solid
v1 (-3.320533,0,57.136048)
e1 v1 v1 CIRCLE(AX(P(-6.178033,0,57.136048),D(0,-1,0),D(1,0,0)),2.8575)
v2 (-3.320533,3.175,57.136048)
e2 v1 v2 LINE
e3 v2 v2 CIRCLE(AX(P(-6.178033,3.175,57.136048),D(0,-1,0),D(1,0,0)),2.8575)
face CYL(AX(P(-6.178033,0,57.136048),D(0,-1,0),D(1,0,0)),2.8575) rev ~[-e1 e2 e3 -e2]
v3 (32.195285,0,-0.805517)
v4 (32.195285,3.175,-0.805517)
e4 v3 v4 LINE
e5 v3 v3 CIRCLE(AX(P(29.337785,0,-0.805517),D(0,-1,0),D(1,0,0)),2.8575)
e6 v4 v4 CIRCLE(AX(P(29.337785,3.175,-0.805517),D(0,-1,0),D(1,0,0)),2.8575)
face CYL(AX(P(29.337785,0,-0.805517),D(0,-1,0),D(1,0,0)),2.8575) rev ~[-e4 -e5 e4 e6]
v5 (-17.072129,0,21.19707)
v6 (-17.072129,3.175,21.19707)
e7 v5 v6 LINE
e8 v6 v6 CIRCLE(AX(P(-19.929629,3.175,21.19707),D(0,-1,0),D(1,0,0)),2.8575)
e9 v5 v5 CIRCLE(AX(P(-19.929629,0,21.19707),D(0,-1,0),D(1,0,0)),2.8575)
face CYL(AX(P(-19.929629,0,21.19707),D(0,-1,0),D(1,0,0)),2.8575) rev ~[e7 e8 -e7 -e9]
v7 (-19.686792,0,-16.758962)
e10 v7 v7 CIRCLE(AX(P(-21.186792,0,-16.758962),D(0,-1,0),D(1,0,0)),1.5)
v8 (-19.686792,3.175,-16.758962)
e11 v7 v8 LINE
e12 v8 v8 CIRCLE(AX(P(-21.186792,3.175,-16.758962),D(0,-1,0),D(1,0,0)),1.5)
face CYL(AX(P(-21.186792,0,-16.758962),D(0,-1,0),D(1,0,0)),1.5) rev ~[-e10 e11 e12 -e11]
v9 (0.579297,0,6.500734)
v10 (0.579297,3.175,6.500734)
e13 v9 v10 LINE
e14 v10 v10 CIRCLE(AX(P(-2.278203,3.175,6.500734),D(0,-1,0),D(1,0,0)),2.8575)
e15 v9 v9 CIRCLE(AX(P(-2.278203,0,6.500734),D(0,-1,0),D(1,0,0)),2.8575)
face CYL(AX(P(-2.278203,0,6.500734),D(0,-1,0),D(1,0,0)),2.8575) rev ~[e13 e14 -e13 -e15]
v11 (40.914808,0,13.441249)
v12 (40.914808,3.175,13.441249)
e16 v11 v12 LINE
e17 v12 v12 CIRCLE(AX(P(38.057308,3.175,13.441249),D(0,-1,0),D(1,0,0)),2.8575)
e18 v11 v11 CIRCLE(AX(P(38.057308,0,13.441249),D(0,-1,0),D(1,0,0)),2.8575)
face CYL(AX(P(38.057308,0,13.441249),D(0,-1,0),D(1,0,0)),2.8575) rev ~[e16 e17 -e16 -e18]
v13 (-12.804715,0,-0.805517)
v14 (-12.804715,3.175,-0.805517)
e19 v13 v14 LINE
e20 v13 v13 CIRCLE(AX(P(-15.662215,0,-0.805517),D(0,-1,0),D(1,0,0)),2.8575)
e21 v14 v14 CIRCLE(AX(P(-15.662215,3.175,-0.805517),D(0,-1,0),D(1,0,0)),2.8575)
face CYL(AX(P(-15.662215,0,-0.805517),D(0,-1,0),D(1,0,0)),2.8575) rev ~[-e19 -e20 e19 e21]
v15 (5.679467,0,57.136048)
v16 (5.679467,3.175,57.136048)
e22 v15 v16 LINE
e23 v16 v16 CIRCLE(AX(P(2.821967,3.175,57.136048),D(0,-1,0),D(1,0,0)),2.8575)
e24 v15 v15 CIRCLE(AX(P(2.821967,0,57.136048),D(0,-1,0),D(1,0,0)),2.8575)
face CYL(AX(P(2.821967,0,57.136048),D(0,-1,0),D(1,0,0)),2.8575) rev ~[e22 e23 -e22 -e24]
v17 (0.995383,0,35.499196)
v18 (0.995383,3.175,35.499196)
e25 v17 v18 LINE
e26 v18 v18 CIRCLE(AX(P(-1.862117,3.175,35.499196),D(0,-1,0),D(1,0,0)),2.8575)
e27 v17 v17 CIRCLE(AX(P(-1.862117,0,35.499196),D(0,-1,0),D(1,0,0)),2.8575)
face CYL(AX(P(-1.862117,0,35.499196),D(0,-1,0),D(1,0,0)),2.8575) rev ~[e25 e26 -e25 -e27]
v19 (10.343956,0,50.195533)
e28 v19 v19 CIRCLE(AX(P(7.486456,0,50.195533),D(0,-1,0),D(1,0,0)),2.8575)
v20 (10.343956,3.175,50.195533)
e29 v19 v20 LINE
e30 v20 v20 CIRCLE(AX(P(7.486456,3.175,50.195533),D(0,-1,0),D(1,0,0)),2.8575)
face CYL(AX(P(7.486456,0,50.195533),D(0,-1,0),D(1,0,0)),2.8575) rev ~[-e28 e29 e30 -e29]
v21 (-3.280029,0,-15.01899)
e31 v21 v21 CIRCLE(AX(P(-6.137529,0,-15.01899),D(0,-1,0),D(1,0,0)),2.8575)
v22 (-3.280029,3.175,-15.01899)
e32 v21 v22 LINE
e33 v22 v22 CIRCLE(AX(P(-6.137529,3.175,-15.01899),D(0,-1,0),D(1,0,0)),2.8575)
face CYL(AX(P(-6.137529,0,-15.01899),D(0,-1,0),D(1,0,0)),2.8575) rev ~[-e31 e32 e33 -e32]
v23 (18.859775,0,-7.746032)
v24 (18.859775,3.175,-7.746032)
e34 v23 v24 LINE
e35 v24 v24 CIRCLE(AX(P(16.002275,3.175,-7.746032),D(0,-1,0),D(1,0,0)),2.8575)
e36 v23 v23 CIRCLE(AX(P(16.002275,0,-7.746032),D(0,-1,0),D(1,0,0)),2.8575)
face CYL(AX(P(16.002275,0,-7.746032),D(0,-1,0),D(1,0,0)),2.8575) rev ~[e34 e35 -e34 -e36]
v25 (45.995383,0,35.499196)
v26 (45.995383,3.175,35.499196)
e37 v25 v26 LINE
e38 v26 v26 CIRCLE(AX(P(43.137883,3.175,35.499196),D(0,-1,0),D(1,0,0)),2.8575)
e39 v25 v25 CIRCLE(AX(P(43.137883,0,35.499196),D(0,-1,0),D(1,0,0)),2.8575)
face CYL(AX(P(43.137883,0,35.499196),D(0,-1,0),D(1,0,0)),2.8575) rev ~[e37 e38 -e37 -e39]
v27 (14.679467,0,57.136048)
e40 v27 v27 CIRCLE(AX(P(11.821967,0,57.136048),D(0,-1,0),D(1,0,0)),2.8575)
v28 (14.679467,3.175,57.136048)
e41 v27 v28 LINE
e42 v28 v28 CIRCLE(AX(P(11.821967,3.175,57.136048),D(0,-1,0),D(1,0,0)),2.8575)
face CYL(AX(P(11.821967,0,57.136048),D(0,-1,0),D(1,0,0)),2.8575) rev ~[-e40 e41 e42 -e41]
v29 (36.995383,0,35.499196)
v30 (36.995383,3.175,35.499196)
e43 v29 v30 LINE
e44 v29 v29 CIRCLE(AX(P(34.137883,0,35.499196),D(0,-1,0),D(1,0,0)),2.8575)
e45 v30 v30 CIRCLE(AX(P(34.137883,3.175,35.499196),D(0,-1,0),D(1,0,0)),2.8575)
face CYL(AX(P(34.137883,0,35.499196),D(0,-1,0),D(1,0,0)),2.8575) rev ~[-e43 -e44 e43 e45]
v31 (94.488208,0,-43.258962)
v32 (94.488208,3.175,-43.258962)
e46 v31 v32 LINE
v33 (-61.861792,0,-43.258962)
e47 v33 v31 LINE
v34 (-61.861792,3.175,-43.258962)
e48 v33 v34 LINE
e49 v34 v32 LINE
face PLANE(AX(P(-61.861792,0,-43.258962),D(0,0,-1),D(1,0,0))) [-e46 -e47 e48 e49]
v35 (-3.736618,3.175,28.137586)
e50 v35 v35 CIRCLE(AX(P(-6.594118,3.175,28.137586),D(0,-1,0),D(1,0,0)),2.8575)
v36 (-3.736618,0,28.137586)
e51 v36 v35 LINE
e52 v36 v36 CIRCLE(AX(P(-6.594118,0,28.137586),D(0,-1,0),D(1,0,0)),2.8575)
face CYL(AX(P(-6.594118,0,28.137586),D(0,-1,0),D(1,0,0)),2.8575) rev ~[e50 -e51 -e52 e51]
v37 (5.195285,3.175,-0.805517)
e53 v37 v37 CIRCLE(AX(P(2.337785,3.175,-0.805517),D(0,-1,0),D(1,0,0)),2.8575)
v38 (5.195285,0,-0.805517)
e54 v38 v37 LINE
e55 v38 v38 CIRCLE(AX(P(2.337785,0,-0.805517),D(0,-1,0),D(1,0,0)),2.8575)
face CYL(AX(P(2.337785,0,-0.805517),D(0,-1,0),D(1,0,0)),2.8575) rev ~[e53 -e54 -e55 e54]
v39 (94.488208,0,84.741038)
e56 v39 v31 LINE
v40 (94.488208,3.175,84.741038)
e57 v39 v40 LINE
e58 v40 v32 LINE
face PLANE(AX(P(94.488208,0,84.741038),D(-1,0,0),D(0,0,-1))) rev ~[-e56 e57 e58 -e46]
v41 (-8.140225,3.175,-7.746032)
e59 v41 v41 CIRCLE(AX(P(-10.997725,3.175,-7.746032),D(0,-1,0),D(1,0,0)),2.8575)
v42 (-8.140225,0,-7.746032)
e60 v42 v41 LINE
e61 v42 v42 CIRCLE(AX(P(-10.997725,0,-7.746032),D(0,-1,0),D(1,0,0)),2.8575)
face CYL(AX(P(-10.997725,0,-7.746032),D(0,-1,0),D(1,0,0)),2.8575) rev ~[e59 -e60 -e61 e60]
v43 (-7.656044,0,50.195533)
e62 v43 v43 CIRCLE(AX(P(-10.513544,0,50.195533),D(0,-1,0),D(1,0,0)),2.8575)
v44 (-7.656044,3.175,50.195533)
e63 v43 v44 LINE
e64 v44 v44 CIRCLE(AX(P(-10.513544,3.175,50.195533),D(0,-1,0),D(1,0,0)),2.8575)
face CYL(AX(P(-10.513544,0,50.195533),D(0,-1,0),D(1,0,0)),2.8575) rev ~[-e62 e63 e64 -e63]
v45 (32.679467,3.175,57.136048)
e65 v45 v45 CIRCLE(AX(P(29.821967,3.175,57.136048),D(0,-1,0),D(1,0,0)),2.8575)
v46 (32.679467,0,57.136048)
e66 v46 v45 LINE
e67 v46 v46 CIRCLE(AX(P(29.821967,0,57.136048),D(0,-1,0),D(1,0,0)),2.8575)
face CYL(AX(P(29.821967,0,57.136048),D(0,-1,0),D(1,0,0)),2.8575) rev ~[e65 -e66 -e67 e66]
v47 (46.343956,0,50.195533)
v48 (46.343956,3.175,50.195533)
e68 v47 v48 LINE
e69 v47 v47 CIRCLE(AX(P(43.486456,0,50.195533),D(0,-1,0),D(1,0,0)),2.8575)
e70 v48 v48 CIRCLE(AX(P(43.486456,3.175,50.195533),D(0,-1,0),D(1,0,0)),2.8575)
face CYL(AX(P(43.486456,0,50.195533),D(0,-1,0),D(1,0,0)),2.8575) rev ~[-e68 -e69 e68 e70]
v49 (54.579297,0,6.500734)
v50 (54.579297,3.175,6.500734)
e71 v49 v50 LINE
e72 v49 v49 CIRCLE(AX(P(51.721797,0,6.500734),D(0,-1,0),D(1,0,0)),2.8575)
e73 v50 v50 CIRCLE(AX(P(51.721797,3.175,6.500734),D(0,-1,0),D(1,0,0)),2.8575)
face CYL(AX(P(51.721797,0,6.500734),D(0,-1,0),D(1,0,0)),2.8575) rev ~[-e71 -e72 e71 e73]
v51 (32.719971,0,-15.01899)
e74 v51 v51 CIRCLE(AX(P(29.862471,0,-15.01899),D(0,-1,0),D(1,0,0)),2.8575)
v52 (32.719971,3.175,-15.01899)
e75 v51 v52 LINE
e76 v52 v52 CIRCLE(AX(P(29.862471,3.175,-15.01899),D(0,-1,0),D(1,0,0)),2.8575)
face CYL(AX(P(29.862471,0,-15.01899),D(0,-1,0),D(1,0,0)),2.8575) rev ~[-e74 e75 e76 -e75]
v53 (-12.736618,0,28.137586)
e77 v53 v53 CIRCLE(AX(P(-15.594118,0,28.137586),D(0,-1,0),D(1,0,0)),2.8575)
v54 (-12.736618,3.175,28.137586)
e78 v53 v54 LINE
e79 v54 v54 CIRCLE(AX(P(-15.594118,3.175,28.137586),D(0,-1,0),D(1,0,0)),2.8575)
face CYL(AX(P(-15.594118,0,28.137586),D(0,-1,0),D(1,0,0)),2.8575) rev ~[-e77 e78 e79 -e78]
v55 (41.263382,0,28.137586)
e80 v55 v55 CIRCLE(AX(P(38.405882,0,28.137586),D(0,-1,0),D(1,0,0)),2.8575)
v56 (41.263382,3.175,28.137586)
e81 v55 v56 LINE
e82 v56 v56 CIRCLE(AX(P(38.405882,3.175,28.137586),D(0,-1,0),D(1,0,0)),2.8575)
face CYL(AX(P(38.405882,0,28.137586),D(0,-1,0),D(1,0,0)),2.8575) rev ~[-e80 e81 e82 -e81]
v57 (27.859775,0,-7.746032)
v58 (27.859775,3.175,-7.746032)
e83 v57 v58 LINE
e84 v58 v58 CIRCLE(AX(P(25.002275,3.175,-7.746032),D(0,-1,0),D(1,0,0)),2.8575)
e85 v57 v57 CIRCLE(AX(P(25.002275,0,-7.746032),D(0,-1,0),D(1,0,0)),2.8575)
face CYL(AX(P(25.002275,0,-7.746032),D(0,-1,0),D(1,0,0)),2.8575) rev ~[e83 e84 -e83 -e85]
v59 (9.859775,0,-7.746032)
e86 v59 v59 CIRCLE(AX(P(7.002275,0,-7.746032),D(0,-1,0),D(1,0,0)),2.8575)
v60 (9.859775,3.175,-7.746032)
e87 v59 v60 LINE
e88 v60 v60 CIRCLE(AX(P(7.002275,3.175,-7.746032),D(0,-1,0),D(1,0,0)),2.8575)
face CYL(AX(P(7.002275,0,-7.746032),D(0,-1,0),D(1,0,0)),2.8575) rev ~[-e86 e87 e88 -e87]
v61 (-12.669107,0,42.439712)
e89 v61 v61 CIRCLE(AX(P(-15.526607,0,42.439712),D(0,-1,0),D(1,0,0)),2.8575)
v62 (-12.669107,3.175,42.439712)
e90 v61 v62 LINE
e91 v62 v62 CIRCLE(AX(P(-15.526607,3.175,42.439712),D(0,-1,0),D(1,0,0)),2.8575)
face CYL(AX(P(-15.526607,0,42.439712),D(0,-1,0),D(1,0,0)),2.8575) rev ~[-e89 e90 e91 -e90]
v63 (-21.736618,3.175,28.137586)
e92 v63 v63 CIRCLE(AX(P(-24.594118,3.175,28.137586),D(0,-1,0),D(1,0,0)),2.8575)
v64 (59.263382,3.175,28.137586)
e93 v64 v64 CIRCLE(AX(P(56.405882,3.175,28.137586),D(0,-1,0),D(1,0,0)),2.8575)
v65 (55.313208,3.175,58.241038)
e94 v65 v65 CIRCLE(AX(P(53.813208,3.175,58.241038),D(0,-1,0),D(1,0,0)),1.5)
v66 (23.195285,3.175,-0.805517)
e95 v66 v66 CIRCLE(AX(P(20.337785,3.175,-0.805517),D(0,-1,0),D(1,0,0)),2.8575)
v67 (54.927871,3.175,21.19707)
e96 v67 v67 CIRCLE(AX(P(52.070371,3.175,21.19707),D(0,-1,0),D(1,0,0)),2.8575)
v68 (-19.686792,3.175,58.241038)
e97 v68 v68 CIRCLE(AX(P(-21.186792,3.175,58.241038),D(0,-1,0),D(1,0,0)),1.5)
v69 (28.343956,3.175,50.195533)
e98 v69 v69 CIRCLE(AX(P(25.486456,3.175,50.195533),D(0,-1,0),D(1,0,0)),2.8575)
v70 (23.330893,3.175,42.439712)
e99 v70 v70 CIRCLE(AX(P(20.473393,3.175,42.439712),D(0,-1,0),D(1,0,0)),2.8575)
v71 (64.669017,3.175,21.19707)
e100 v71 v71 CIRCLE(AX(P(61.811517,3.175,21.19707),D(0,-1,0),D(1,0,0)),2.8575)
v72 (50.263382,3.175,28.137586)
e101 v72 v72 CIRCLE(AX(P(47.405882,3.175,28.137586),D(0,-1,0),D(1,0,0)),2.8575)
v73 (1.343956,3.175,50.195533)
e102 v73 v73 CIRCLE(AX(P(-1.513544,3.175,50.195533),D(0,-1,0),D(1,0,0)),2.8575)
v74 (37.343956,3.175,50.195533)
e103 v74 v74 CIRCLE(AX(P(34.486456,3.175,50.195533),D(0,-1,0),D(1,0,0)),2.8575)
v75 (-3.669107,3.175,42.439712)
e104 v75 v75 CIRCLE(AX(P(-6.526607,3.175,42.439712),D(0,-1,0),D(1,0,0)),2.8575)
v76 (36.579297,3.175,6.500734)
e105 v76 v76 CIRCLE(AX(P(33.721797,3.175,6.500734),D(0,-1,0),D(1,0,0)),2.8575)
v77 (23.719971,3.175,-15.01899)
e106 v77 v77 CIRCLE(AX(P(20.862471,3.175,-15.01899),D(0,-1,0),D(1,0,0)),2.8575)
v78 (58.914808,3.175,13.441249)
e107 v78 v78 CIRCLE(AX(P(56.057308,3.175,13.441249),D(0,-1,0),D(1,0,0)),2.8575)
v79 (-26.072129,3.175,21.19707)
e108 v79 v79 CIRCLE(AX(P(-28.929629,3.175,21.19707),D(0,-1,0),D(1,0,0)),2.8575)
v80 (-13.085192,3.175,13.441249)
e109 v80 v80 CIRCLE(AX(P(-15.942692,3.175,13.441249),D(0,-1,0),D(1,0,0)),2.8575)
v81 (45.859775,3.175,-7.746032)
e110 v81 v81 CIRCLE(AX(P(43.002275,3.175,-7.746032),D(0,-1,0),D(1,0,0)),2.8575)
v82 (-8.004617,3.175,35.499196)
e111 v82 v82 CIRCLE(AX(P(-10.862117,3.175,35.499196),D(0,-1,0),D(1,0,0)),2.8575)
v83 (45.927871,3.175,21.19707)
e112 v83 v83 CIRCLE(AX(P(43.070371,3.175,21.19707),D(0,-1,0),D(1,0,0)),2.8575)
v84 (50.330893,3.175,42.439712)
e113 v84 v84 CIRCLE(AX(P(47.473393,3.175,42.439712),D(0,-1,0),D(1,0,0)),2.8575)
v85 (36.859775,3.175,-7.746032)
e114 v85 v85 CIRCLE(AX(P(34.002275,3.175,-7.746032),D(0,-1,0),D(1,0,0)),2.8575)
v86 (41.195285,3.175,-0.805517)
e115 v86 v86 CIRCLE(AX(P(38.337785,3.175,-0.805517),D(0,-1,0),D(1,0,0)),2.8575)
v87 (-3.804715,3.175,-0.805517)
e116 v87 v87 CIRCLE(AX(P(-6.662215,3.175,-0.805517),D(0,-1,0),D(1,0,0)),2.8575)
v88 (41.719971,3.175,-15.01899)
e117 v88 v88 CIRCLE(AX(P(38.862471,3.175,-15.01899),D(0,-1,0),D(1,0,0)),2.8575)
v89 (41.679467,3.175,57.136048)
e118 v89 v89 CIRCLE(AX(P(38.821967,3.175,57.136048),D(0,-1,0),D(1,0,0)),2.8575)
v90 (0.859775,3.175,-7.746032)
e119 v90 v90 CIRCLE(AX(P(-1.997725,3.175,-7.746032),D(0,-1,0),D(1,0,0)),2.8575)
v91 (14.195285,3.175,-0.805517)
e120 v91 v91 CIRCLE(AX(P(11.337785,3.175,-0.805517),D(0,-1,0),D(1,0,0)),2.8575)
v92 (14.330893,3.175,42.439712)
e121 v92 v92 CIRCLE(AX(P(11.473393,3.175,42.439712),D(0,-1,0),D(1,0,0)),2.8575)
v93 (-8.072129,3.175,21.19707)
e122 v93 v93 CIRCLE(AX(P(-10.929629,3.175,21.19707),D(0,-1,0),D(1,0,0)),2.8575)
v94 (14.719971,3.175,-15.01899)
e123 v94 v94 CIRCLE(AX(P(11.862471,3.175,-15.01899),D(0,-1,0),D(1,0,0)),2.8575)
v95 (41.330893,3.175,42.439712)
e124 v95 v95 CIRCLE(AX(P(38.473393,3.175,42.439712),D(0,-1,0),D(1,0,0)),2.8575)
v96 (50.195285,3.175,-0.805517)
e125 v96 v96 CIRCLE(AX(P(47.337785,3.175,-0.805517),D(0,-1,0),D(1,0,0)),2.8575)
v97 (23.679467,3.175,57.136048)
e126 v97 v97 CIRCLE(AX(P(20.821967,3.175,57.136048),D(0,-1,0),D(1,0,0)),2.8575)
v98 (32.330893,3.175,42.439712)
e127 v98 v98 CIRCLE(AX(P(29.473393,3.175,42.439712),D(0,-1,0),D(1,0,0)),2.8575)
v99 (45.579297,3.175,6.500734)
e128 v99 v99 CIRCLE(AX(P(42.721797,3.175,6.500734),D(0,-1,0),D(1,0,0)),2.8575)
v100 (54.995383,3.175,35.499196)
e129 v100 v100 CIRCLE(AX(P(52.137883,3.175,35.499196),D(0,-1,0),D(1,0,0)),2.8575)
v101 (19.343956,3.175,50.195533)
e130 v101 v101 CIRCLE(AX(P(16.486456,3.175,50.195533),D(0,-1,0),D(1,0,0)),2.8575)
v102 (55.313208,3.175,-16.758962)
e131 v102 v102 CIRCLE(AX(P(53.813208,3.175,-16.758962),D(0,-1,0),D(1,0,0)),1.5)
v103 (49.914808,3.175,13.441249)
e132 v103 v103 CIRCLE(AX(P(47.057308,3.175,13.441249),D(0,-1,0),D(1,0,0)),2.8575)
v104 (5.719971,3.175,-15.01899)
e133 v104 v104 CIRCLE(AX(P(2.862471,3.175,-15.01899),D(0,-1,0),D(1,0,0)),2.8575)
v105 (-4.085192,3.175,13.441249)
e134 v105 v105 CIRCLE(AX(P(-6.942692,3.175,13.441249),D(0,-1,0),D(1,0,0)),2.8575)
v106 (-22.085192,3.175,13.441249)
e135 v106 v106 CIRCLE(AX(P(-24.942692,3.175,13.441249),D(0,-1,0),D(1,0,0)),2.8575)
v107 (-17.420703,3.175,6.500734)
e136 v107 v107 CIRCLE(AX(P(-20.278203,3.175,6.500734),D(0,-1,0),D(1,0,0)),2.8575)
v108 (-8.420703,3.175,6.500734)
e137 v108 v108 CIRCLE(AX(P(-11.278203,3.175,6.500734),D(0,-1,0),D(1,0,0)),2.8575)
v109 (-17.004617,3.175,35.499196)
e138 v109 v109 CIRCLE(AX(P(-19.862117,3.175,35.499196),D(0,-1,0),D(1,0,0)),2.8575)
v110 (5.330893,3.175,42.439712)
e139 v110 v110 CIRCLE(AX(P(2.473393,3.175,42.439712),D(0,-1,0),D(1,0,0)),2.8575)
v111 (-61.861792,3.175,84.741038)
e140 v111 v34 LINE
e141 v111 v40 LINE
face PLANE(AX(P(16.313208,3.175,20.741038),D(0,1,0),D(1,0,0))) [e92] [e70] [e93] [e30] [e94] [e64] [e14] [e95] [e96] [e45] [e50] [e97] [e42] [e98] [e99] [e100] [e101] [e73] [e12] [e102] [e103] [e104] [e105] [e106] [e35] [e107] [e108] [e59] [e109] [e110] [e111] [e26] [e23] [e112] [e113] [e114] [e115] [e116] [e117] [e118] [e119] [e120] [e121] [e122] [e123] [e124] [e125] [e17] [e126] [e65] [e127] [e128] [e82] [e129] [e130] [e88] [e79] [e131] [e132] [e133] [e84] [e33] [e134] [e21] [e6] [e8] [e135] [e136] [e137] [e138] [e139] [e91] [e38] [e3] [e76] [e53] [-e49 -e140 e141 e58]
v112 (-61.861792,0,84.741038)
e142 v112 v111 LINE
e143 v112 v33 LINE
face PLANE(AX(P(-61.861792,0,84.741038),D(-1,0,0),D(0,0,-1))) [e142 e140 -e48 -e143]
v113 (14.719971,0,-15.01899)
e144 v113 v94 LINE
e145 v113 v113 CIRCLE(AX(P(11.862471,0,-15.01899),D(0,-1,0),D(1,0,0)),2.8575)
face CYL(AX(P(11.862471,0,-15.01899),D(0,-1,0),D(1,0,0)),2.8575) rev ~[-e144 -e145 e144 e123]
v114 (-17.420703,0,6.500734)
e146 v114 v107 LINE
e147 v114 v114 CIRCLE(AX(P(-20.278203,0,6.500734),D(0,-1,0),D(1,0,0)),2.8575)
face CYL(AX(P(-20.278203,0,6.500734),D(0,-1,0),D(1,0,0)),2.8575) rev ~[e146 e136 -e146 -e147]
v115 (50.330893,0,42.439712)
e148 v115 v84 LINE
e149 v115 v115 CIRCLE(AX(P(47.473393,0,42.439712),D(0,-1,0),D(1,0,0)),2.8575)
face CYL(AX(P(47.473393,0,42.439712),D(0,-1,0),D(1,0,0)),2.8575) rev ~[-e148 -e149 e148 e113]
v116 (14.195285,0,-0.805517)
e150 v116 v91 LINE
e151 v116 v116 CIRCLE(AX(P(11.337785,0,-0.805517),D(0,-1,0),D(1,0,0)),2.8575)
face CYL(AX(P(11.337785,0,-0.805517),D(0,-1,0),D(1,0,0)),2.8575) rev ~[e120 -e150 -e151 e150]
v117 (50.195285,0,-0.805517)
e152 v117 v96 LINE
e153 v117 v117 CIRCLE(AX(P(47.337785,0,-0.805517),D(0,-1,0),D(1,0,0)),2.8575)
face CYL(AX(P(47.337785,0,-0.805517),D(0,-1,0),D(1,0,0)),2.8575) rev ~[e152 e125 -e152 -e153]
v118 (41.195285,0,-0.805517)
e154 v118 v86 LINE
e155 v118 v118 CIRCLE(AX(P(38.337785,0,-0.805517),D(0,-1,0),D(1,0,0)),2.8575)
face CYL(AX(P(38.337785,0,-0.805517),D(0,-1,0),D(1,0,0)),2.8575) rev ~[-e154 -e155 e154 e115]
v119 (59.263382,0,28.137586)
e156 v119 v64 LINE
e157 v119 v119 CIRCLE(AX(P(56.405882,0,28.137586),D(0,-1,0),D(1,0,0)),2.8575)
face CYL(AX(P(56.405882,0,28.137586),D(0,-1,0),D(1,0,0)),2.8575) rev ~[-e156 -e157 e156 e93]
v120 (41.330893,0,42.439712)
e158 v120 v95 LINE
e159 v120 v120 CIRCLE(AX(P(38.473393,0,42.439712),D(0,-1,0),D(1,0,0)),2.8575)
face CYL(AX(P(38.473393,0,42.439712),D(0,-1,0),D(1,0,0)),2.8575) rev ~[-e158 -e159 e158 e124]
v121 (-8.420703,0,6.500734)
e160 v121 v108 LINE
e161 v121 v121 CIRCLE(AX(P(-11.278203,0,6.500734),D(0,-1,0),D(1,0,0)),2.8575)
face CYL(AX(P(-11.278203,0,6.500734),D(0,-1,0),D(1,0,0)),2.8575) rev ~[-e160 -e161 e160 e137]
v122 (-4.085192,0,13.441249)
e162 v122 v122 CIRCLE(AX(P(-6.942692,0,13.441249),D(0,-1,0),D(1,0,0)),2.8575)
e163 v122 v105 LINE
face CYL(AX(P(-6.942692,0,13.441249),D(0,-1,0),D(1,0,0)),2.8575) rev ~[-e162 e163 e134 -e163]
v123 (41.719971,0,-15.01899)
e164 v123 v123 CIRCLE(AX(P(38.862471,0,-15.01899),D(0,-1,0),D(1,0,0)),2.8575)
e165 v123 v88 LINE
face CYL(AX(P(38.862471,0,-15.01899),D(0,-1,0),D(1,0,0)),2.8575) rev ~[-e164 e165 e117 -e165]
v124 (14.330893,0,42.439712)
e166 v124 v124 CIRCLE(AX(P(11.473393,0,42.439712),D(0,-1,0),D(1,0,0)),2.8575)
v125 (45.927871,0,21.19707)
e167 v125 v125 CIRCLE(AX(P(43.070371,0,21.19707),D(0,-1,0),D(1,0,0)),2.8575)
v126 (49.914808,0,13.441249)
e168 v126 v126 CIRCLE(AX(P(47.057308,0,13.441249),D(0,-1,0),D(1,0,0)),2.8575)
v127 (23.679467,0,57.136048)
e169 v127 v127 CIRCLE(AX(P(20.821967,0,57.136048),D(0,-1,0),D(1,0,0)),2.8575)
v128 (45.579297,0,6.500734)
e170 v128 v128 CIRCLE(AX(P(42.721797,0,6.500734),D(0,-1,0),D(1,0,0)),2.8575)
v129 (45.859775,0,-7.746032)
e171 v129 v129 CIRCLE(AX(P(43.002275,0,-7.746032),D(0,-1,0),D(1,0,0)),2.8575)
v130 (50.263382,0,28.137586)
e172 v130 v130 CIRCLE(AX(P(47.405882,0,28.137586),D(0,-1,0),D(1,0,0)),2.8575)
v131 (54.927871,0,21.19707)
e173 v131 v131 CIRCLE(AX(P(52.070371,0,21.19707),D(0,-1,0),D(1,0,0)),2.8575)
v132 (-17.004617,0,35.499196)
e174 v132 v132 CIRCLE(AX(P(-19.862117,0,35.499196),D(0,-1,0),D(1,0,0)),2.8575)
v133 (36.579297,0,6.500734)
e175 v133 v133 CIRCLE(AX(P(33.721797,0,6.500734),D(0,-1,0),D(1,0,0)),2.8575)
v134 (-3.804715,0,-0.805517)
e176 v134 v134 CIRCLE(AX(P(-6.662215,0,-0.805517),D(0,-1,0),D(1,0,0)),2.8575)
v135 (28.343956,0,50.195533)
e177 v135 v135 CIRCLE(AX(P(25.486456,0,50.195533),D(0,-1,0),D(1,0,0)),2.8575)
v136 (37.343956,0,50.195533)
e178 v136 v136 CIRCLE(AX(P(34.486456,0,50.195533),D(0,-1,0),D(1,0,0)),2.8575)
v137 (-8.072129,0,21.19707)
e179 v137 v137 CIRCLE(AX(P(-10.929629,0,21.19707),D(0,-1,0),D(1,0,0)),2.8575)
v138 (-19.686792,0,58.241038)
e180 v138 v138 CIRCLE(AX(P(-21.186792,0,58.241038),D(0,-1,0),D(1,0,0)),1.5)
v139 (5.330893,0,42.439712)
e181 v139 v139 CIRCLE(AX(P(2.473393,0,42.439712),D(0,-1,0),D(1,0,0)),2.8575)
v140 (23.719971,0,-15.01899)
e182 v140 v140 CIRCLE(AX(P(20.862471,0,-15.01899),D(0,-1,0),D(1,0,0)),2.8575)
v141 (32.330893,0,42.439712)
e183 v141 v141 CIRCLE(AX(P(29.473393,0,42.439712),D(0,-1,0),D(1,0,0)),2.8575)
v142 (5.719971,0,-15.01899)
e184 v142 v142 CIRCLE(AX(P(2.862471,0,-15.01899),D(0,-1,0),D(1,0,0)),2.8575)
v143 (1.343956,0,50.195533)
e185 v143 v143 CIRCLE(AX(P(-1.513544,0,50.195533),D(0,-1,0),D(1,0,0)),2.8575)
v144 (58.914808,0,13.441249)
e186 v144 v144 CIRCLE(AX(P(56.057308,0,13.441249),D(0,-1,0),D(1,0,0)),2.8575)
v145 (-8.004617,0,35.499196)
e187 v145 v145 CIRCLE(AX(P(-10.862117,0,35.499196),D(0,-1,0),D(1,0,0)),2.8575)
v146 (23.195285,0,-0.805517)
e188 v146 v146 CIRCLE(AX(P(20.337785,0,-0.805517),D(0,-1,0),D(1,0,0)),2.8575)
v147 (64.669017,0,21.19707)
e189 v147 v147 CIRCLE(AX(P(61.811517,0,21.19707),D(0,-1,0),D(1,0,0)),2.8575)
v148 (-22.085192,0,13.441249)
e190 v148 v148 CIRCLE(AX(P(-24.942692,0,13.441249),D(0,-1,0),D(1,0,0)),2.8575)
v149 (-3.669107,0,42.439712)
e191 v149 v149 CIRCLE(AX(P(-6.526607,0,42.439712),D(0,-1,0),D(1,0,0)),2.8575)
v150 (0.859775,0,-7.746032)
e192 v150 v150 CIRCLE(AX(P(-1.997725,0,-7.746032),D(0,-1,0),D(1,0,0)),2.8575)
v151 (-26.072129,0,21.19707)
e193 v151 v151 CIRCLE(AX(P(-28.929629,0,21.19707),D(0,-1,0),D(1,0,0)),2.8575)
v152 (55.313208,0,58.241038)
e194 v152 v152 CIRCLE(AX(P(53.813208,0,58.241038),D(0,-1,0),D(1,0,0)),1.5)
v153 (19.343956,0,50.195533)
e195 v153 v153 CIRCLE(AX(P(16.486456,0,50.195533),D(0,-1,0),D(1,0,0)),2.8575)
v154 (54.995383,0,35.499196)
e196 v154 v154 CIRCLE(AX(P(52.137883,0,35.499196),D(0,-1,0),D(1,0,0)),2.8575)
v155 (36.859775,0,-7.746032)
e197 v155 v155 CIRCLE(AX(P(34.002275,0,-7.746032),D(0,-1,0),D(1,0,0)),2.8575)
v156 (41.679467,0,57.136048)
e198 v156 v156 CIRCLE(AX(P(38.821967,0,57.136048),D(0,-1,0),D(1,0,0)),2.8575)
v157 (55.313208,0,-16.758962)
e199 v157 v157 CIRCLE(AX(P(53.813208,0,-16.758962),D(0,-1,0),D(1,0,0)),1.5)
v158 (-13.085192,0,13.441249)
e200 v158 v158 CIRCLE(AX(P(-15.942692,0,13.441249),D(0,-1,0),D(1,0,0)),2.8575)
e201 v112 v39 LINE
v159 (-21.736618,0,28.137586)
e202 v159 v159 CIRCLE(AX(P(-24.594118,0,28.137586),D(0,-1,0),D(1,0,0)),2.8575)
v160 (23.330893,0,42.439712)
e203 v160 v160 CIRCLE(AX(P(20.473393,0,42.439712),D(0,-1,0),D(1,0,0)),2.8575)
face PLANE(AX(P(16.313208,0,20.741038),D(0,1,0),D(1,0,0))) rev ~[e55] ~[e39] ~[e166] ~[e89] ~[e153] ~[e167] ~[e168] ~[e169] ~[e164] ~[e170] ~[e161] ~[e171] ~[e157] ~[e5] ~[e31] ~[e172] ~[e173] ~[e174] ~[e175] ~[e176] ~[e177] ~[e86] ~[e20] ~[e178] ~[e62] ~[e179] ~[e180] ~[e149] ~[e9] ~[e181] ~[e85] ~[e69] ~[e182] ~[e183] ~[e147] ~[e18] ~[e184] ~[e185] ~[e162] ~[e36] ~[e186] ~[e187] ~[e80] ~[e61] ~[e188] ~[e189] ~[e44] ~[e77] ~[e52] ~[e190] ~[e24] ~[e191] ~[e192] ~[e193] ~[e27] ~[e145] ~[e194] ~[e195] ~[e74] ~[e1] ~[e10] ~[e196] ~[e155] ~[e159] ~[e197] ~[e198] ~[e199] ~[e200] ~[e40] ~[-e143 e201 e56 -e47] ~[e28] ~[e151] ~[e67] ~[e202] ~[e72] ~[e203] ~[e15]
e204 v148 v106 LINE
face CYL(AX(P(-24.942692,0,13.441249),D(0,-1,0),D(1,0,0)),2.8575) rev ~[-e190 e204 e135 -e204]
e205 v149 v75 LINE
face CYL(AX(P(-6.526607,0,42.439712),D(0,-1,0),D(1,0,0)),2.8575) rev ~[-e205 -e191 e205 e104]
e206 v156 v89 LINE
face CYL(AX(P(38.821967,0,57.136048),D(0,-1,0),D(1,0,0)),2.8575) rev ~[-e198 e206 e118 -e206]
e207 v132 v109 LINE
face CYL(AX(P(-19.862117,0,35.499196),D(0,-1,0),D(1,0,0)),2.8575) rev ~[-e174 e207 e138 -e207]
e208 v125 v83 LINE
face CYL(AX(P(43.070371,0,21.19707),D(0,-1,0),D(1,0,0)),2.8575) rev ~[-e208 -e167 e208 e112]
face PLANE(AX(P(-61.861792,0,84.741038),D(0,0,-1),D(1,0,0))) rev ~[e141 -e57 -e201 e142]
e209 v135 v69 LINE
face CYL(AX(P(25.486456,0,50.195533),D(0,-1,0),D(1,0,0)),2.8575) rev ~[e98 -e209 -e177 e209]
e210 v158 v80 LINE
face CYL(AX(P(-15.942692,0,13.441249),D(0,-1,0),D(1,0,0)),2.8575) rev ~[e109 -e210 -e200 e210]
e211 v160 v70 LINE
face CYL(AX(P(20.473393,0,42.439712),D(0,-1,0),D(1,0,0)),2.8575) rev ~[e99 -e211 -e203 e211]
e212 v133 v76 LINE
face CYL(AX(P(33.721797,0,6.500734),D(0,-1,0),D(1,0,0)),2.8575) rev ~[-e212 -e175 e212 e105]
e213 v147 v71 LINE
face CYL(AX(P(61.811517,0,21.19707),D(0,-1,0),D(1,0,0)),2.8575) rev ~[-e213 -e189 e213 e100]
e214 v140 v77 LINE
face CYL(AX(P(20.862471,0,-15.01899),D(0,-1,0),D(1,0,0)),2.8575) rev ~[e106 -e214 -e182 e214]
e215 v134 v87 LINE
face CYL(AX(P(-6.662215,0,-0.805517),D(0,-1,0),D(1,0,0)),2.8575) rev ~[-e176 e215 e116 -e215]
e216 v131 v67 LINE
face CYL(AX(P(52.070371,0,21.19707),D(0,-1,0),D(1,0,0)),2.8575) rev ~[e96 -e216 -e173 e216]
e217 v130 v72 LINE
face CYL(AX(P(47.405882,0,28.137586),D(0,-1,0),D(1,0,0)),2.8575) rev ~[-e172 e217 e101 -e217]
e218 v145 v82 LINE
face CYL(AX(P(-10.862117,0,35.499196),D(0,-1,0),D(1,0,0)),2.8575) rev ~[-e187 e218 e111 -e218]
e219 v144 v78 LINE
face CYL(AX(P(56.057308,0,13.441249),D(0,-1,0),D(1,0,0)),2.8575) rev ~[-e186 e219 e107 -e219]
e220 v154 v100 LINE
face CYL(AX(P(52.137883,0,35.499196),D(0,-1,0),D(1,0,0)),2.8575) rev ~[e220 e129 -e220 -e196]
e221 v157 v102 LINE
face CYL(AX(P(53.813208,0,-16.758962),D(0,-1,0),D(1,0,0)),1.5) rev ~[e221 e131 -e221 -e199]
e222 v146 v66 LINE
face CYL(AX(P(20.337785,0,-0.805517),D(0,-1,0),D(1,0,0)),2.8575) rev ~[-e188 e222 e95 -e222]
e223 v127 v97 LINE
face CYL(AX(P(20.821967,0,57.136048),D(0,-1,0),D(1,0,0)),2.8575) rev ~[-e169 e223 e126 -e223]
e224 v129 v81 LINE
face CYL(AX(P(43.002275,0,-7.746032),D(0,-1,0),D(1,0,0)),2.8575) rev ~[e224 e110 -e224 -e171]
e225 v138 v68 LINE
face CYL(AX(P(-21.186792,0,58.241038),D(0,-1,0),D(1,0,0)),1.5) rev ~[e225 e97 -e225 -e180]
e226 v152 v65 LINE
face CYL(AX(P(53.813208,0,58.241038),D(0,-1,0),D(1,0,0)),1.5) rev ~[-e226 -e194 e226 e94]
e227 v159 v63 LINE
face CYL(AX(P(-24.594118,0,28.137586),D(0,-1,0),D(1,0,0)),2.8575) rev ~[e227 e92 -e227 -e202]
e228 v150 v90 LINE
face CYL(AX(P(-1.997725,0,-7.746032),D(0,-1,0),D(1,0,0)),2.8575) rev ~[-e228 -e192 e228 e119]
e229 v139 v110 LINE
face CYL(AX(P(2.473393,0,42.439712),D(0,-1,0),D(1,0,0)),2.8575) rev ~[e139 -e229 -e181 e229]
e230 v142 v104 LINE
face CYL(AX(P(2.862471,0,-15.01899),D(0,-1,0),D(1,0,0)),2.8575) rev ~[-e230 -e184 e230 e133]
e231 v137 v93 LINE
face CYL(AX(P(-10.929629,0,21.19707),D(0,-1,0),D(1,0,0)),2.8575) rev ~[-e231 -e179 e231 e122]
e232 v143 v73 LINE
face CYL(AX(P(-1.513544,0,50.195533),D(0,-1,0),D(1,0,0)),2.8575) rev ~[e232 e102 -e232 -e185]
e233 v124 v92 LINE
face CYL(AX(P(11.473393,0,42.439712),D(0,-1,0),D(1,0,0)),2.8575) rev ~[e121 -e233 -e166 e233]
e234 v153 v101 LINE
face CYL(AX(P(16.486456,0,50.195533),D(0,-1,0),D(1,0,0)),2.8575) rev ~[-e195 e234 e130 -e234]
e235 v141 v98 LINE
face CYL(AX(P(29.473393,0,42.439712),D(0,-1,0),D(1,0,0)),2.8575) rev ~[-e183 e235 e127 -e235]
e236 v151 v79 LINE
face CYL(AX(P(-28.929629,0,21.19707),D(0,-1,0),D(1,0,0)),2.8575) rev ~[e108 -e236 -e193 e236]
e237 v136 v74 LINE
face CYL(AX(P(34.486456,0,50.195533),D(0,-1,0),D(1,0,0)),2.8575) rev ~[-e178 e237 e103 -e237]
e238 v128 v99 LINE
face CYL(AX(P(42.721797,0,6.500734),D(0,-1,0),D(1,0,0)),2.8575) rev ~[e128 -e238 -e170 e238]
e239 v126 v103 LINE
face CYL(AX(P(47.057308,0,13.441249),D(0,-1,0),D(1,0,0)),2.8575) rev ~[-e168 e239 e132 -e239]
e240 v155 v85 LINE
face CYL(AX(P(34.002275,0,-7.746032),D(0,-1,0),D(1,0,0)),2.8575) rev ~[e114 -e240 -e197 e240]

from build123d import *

# Parameters (mm, degrees)
SKETCH1_W           = 156.35
SKETCH1_H           = 128
BOSS_EXTRUDE1_DEPTH = 3.175
SKETCH2_R           = 1.5
CUT_EXTRUDE1_DEPTH  = 10
SKETCH3_R           = 2.8575
CUT_EXTRUDE2_DEPTH  = 10


with BuildPart() as part:
    # Sketch1 → Boss-Extrude1 (new body)
    with BuildSketch(Plane(origin=(0, 0, 0), x_dir=(1, 0, 0), z_dir=(0, 1, 0))):
        with Locations((16.313207547, -20.741037736)):
            Rectangle(SKETCH1_W, SKETCH1_H)
    extrude(amount=BOSS_EXTRUDE1_DEPTH)

    # Sketch2 → Cut-Extrude1 (cut)
    with BuildSketch(Plane.XZ):
        with Locations((-21.186792453, 58.241037736)):
            Circle(SKETCH2_R)
        with Locations((53.813207547, 58.241037736)):
            Circle(SKETCH2_R)
        with Locations((53.813207547, -16.758962264)):
            Circle(SKETCH2_R)
        with Locations((-21.186792453, -16.758962264)):
            Circle(SKETCH2_R)
    extrude(amount=-CUT_EXTRUDE1_DEPTH, mode=Mode.SUBTRACT)

    # Sketch3 → Cut-Extrude2 (cut)
    with BuildSketch(Plane.XZ):
        with Locations((-6.178033112, 57.136048301)):
            Circle(SKETCH3_R)
        with Locations((2.821966888, 57.136048301)):
            Circle(SKETCH3_R)
        with Locations((11.821966888, 57.136048301)):
            Circle(SKETCH3_R)
        with Locations((20.821966888, 57.136048301)):
            Circle(SKETCH3_R)
        with Locations((29.821966888, 57.136048301)):
            Circle(SKETCH3_R)
        with Locations((38.821966888, 57.136048301)):
            Circle(SKETCH3_R)
        with Locations((-10.513543723, 50.195532798)):
            Circle(SKETCH3_R)
        with Locations((-1.513543723, 50.195532798)):
            Circle(SKETCH3_R)
        with Locations((7.486456277, 50.195532798)):
            Circle(SKETCH3_R)
        with Locations((16.486456277, 50.195532798)):
            Circle(SKETCH3_R)
        with Locations((25.486456277, 50.195532798)):
            Circle(SKETCH3_R)
        with Locations((34.486456277, 50.195532798)):
            Circle(SKETCH3_R)
        with Locations((43.486456277, 50.195532798)):
            Circle(SKETCH3_R)
        with Locations((-15.52660687, 42.439711518)):
            Circle(SKETCH3_R)
        with Locations((-6.52660687, 42.439711518)):
            Circle(SKETCH3_R)
        with Locations((2.47339313, 42.439711518)):
            Circle(SKETCH3_R)
        with Locations((11.47339313, 42.439711518)):
            Circle(SKETCH3_R)
        with Locations((20.47339313, 42.439711518)):
            Circle(SKETCH3_R)
        with Locations((29.47339313, 42.439711518)):
            Circle(SKETCH3_R)
        with Locations((38.47339313, 42.439711518)):
            Circle(SKETCH3_R)
        with Locations((47.47339313, 42.439711518)):
            Circle(SKETCH3_R)
        with Locations((-19.862117481, 35.499196015)):
            Circle(SKETCH3_R)
        with Locations((-10.862117481, 35.499196015)):
            Circle(SKETCH3_R)
        with Locations((-1.862117481, 35.499196015)):
            Circle(SKETCH3_R)
        with Locations((34.137882519, 35.499196015)):
            Circle(SKETCH3_R)
        with Locations((43.137882519, 35.499196015)):
            Circle(SKETCH3_R)
        with Locations((52.137882519, 35.499196015)):
            Circle(SKETCH3_R)
        with Locations((-24.594118133, 28.137585821)):
            Circle(SKETCH3_R)
        with Locations((-15.594118133, 28.137585821)):
            Circle(SKETCH3_R)
        with Locations((-6.594118133, 28.137585821)):
            Circle(SKETCH3_R)
        with Locations((38.405881867, 28.137585821)):
            Circle(SKETCH3_R)
        with Locations((47.405881867, 28.137585821)):
            Circle(SKETCH3_R)
        with Locations((56.405881867, 28.137585821)):
            Circle(SKETCH3_R)
        with Locations((-28.929628744, 21.197070319)):
            Circle(SKETCH3_R)
        with Locations((-19.929628744, 21.197070319)):
            Circle(SKETCH3_R)
        with Locations((-10.929628744, 21.197070319)):
            Circle(SKETCH3_R)
        with Locations((43.070371256, 21.197070319)):
            Circle(SKETCH3_R)
        with Locations((52.070371256, 21.197070319)):
            Circle(SKETCH3_R)
        with Locations((-24.942691891, 13.441249039)):
            Circle(SKETCH3_R)
        with Locations((-15.942691891, 13.441249039)):
            Circle(SKETCH3_R)
        with Locations((-6.942691891, 13.441249039)):
            Circle(SKETCH3_R)
        with Locations((38.057308109, 13.441249039)):
            Circle(SKETCH3_R)
        with Locations((47.057308109, 13.441249039)):
            Circle(SKETCH3_R)
        with Locations((56.057308109, 13.441249039)):
            Circle(SKETCH3_R)
        with Locations((-20.278202502, 6.500733536)):
            Circle(SKETCH3_R)
        with Locations((-11.278202502, 6.500733536)):
            Circle(SKETCH3_R)
        with Locations((-2.278202502, 6.500733536)):
            Circle(SKETCH3_R)
        with Locations((33.721797498, 6.500733536)):
            Circle(SKETCH3_R)
        with Locations((42.721797498, 6.500733536)):
            Circle(SKETCH3_R)
        with Locations((51.721797498, 6.500733536)):
            Circle(SKETCH3_R)
        with Locations((-15.662214589, -0.805516952)):
            Circle(SKETCH3_R)
        with Locations((-6.662214589, -0.805516952)):
            Circle(SKETCH3_R)
        with Locations((2.337785411, -0.805516952)):
            Circle(SKETCH3_R)
        with Locations((11.337785411, -0.805516952)):
            Circle(SKETCH3_R)
        with Locations((20.337785411, -0.805516952)):
            Circle(SKETCH3_R)
        with Locations((29.337785411, -0.805516952)):
            Circle(SKETCH3_R)
        with Locations((38.337785411, -0.805516952)):
            Circle(SKETCH3_R)
        with Locations((47.337785411, -0.805516952)):
            Circle(SKETCH3_R)
        with Locations((-10.9977252, -7.746032454)):
            Circle(SKETCH3_R)
        with Locations((-1.9977252, -7.746032454)):
            Circle(SKETCH3_R)
        with Locations((7.0022748, -7.746032454)):
            Circle(SKETCH3_R)
        with Locations((16.0022748, -7.746032454)):
            Circle(SKETCH3_R)
        with Locations((25.0022748, -7.746032454)):
            Circle(SKETCH3_R)
        with Locations((34.0022748, -7.746032454)):
            Circle(SKETCH3_R)
        with Locations((43.0022748, -7.746032454)):
            Circle(SKETCH3_R)
        with Locations((-6.137528578, -15.018990423)):
            Circle(SKETCH3_R)
        with Locations((2.862471422, -15.018990423)):
            Circle(SKETCH3_R)
        with Locations((11.862471422, -15.018990423)):
            Circle(SKETCH3_R)
        with Locations((20.862471422, -15.018990423)):
            Circle(SKETCH3_R)
        with Locations((29.862471422, -15.018990423)):
            Circle(SKETCH3_R)
        with Locations((38.862471422, -15.018990423)):
            Circle(SKETCH3_R)
        with Locations((61.811516702, 21.197070319)):
            Circle(SKETCH3_R)
    extrude(amount=-CUT_EXTRUDE2_DEPTH, mode=Mode.SUBTRACT)


solid = part.part
